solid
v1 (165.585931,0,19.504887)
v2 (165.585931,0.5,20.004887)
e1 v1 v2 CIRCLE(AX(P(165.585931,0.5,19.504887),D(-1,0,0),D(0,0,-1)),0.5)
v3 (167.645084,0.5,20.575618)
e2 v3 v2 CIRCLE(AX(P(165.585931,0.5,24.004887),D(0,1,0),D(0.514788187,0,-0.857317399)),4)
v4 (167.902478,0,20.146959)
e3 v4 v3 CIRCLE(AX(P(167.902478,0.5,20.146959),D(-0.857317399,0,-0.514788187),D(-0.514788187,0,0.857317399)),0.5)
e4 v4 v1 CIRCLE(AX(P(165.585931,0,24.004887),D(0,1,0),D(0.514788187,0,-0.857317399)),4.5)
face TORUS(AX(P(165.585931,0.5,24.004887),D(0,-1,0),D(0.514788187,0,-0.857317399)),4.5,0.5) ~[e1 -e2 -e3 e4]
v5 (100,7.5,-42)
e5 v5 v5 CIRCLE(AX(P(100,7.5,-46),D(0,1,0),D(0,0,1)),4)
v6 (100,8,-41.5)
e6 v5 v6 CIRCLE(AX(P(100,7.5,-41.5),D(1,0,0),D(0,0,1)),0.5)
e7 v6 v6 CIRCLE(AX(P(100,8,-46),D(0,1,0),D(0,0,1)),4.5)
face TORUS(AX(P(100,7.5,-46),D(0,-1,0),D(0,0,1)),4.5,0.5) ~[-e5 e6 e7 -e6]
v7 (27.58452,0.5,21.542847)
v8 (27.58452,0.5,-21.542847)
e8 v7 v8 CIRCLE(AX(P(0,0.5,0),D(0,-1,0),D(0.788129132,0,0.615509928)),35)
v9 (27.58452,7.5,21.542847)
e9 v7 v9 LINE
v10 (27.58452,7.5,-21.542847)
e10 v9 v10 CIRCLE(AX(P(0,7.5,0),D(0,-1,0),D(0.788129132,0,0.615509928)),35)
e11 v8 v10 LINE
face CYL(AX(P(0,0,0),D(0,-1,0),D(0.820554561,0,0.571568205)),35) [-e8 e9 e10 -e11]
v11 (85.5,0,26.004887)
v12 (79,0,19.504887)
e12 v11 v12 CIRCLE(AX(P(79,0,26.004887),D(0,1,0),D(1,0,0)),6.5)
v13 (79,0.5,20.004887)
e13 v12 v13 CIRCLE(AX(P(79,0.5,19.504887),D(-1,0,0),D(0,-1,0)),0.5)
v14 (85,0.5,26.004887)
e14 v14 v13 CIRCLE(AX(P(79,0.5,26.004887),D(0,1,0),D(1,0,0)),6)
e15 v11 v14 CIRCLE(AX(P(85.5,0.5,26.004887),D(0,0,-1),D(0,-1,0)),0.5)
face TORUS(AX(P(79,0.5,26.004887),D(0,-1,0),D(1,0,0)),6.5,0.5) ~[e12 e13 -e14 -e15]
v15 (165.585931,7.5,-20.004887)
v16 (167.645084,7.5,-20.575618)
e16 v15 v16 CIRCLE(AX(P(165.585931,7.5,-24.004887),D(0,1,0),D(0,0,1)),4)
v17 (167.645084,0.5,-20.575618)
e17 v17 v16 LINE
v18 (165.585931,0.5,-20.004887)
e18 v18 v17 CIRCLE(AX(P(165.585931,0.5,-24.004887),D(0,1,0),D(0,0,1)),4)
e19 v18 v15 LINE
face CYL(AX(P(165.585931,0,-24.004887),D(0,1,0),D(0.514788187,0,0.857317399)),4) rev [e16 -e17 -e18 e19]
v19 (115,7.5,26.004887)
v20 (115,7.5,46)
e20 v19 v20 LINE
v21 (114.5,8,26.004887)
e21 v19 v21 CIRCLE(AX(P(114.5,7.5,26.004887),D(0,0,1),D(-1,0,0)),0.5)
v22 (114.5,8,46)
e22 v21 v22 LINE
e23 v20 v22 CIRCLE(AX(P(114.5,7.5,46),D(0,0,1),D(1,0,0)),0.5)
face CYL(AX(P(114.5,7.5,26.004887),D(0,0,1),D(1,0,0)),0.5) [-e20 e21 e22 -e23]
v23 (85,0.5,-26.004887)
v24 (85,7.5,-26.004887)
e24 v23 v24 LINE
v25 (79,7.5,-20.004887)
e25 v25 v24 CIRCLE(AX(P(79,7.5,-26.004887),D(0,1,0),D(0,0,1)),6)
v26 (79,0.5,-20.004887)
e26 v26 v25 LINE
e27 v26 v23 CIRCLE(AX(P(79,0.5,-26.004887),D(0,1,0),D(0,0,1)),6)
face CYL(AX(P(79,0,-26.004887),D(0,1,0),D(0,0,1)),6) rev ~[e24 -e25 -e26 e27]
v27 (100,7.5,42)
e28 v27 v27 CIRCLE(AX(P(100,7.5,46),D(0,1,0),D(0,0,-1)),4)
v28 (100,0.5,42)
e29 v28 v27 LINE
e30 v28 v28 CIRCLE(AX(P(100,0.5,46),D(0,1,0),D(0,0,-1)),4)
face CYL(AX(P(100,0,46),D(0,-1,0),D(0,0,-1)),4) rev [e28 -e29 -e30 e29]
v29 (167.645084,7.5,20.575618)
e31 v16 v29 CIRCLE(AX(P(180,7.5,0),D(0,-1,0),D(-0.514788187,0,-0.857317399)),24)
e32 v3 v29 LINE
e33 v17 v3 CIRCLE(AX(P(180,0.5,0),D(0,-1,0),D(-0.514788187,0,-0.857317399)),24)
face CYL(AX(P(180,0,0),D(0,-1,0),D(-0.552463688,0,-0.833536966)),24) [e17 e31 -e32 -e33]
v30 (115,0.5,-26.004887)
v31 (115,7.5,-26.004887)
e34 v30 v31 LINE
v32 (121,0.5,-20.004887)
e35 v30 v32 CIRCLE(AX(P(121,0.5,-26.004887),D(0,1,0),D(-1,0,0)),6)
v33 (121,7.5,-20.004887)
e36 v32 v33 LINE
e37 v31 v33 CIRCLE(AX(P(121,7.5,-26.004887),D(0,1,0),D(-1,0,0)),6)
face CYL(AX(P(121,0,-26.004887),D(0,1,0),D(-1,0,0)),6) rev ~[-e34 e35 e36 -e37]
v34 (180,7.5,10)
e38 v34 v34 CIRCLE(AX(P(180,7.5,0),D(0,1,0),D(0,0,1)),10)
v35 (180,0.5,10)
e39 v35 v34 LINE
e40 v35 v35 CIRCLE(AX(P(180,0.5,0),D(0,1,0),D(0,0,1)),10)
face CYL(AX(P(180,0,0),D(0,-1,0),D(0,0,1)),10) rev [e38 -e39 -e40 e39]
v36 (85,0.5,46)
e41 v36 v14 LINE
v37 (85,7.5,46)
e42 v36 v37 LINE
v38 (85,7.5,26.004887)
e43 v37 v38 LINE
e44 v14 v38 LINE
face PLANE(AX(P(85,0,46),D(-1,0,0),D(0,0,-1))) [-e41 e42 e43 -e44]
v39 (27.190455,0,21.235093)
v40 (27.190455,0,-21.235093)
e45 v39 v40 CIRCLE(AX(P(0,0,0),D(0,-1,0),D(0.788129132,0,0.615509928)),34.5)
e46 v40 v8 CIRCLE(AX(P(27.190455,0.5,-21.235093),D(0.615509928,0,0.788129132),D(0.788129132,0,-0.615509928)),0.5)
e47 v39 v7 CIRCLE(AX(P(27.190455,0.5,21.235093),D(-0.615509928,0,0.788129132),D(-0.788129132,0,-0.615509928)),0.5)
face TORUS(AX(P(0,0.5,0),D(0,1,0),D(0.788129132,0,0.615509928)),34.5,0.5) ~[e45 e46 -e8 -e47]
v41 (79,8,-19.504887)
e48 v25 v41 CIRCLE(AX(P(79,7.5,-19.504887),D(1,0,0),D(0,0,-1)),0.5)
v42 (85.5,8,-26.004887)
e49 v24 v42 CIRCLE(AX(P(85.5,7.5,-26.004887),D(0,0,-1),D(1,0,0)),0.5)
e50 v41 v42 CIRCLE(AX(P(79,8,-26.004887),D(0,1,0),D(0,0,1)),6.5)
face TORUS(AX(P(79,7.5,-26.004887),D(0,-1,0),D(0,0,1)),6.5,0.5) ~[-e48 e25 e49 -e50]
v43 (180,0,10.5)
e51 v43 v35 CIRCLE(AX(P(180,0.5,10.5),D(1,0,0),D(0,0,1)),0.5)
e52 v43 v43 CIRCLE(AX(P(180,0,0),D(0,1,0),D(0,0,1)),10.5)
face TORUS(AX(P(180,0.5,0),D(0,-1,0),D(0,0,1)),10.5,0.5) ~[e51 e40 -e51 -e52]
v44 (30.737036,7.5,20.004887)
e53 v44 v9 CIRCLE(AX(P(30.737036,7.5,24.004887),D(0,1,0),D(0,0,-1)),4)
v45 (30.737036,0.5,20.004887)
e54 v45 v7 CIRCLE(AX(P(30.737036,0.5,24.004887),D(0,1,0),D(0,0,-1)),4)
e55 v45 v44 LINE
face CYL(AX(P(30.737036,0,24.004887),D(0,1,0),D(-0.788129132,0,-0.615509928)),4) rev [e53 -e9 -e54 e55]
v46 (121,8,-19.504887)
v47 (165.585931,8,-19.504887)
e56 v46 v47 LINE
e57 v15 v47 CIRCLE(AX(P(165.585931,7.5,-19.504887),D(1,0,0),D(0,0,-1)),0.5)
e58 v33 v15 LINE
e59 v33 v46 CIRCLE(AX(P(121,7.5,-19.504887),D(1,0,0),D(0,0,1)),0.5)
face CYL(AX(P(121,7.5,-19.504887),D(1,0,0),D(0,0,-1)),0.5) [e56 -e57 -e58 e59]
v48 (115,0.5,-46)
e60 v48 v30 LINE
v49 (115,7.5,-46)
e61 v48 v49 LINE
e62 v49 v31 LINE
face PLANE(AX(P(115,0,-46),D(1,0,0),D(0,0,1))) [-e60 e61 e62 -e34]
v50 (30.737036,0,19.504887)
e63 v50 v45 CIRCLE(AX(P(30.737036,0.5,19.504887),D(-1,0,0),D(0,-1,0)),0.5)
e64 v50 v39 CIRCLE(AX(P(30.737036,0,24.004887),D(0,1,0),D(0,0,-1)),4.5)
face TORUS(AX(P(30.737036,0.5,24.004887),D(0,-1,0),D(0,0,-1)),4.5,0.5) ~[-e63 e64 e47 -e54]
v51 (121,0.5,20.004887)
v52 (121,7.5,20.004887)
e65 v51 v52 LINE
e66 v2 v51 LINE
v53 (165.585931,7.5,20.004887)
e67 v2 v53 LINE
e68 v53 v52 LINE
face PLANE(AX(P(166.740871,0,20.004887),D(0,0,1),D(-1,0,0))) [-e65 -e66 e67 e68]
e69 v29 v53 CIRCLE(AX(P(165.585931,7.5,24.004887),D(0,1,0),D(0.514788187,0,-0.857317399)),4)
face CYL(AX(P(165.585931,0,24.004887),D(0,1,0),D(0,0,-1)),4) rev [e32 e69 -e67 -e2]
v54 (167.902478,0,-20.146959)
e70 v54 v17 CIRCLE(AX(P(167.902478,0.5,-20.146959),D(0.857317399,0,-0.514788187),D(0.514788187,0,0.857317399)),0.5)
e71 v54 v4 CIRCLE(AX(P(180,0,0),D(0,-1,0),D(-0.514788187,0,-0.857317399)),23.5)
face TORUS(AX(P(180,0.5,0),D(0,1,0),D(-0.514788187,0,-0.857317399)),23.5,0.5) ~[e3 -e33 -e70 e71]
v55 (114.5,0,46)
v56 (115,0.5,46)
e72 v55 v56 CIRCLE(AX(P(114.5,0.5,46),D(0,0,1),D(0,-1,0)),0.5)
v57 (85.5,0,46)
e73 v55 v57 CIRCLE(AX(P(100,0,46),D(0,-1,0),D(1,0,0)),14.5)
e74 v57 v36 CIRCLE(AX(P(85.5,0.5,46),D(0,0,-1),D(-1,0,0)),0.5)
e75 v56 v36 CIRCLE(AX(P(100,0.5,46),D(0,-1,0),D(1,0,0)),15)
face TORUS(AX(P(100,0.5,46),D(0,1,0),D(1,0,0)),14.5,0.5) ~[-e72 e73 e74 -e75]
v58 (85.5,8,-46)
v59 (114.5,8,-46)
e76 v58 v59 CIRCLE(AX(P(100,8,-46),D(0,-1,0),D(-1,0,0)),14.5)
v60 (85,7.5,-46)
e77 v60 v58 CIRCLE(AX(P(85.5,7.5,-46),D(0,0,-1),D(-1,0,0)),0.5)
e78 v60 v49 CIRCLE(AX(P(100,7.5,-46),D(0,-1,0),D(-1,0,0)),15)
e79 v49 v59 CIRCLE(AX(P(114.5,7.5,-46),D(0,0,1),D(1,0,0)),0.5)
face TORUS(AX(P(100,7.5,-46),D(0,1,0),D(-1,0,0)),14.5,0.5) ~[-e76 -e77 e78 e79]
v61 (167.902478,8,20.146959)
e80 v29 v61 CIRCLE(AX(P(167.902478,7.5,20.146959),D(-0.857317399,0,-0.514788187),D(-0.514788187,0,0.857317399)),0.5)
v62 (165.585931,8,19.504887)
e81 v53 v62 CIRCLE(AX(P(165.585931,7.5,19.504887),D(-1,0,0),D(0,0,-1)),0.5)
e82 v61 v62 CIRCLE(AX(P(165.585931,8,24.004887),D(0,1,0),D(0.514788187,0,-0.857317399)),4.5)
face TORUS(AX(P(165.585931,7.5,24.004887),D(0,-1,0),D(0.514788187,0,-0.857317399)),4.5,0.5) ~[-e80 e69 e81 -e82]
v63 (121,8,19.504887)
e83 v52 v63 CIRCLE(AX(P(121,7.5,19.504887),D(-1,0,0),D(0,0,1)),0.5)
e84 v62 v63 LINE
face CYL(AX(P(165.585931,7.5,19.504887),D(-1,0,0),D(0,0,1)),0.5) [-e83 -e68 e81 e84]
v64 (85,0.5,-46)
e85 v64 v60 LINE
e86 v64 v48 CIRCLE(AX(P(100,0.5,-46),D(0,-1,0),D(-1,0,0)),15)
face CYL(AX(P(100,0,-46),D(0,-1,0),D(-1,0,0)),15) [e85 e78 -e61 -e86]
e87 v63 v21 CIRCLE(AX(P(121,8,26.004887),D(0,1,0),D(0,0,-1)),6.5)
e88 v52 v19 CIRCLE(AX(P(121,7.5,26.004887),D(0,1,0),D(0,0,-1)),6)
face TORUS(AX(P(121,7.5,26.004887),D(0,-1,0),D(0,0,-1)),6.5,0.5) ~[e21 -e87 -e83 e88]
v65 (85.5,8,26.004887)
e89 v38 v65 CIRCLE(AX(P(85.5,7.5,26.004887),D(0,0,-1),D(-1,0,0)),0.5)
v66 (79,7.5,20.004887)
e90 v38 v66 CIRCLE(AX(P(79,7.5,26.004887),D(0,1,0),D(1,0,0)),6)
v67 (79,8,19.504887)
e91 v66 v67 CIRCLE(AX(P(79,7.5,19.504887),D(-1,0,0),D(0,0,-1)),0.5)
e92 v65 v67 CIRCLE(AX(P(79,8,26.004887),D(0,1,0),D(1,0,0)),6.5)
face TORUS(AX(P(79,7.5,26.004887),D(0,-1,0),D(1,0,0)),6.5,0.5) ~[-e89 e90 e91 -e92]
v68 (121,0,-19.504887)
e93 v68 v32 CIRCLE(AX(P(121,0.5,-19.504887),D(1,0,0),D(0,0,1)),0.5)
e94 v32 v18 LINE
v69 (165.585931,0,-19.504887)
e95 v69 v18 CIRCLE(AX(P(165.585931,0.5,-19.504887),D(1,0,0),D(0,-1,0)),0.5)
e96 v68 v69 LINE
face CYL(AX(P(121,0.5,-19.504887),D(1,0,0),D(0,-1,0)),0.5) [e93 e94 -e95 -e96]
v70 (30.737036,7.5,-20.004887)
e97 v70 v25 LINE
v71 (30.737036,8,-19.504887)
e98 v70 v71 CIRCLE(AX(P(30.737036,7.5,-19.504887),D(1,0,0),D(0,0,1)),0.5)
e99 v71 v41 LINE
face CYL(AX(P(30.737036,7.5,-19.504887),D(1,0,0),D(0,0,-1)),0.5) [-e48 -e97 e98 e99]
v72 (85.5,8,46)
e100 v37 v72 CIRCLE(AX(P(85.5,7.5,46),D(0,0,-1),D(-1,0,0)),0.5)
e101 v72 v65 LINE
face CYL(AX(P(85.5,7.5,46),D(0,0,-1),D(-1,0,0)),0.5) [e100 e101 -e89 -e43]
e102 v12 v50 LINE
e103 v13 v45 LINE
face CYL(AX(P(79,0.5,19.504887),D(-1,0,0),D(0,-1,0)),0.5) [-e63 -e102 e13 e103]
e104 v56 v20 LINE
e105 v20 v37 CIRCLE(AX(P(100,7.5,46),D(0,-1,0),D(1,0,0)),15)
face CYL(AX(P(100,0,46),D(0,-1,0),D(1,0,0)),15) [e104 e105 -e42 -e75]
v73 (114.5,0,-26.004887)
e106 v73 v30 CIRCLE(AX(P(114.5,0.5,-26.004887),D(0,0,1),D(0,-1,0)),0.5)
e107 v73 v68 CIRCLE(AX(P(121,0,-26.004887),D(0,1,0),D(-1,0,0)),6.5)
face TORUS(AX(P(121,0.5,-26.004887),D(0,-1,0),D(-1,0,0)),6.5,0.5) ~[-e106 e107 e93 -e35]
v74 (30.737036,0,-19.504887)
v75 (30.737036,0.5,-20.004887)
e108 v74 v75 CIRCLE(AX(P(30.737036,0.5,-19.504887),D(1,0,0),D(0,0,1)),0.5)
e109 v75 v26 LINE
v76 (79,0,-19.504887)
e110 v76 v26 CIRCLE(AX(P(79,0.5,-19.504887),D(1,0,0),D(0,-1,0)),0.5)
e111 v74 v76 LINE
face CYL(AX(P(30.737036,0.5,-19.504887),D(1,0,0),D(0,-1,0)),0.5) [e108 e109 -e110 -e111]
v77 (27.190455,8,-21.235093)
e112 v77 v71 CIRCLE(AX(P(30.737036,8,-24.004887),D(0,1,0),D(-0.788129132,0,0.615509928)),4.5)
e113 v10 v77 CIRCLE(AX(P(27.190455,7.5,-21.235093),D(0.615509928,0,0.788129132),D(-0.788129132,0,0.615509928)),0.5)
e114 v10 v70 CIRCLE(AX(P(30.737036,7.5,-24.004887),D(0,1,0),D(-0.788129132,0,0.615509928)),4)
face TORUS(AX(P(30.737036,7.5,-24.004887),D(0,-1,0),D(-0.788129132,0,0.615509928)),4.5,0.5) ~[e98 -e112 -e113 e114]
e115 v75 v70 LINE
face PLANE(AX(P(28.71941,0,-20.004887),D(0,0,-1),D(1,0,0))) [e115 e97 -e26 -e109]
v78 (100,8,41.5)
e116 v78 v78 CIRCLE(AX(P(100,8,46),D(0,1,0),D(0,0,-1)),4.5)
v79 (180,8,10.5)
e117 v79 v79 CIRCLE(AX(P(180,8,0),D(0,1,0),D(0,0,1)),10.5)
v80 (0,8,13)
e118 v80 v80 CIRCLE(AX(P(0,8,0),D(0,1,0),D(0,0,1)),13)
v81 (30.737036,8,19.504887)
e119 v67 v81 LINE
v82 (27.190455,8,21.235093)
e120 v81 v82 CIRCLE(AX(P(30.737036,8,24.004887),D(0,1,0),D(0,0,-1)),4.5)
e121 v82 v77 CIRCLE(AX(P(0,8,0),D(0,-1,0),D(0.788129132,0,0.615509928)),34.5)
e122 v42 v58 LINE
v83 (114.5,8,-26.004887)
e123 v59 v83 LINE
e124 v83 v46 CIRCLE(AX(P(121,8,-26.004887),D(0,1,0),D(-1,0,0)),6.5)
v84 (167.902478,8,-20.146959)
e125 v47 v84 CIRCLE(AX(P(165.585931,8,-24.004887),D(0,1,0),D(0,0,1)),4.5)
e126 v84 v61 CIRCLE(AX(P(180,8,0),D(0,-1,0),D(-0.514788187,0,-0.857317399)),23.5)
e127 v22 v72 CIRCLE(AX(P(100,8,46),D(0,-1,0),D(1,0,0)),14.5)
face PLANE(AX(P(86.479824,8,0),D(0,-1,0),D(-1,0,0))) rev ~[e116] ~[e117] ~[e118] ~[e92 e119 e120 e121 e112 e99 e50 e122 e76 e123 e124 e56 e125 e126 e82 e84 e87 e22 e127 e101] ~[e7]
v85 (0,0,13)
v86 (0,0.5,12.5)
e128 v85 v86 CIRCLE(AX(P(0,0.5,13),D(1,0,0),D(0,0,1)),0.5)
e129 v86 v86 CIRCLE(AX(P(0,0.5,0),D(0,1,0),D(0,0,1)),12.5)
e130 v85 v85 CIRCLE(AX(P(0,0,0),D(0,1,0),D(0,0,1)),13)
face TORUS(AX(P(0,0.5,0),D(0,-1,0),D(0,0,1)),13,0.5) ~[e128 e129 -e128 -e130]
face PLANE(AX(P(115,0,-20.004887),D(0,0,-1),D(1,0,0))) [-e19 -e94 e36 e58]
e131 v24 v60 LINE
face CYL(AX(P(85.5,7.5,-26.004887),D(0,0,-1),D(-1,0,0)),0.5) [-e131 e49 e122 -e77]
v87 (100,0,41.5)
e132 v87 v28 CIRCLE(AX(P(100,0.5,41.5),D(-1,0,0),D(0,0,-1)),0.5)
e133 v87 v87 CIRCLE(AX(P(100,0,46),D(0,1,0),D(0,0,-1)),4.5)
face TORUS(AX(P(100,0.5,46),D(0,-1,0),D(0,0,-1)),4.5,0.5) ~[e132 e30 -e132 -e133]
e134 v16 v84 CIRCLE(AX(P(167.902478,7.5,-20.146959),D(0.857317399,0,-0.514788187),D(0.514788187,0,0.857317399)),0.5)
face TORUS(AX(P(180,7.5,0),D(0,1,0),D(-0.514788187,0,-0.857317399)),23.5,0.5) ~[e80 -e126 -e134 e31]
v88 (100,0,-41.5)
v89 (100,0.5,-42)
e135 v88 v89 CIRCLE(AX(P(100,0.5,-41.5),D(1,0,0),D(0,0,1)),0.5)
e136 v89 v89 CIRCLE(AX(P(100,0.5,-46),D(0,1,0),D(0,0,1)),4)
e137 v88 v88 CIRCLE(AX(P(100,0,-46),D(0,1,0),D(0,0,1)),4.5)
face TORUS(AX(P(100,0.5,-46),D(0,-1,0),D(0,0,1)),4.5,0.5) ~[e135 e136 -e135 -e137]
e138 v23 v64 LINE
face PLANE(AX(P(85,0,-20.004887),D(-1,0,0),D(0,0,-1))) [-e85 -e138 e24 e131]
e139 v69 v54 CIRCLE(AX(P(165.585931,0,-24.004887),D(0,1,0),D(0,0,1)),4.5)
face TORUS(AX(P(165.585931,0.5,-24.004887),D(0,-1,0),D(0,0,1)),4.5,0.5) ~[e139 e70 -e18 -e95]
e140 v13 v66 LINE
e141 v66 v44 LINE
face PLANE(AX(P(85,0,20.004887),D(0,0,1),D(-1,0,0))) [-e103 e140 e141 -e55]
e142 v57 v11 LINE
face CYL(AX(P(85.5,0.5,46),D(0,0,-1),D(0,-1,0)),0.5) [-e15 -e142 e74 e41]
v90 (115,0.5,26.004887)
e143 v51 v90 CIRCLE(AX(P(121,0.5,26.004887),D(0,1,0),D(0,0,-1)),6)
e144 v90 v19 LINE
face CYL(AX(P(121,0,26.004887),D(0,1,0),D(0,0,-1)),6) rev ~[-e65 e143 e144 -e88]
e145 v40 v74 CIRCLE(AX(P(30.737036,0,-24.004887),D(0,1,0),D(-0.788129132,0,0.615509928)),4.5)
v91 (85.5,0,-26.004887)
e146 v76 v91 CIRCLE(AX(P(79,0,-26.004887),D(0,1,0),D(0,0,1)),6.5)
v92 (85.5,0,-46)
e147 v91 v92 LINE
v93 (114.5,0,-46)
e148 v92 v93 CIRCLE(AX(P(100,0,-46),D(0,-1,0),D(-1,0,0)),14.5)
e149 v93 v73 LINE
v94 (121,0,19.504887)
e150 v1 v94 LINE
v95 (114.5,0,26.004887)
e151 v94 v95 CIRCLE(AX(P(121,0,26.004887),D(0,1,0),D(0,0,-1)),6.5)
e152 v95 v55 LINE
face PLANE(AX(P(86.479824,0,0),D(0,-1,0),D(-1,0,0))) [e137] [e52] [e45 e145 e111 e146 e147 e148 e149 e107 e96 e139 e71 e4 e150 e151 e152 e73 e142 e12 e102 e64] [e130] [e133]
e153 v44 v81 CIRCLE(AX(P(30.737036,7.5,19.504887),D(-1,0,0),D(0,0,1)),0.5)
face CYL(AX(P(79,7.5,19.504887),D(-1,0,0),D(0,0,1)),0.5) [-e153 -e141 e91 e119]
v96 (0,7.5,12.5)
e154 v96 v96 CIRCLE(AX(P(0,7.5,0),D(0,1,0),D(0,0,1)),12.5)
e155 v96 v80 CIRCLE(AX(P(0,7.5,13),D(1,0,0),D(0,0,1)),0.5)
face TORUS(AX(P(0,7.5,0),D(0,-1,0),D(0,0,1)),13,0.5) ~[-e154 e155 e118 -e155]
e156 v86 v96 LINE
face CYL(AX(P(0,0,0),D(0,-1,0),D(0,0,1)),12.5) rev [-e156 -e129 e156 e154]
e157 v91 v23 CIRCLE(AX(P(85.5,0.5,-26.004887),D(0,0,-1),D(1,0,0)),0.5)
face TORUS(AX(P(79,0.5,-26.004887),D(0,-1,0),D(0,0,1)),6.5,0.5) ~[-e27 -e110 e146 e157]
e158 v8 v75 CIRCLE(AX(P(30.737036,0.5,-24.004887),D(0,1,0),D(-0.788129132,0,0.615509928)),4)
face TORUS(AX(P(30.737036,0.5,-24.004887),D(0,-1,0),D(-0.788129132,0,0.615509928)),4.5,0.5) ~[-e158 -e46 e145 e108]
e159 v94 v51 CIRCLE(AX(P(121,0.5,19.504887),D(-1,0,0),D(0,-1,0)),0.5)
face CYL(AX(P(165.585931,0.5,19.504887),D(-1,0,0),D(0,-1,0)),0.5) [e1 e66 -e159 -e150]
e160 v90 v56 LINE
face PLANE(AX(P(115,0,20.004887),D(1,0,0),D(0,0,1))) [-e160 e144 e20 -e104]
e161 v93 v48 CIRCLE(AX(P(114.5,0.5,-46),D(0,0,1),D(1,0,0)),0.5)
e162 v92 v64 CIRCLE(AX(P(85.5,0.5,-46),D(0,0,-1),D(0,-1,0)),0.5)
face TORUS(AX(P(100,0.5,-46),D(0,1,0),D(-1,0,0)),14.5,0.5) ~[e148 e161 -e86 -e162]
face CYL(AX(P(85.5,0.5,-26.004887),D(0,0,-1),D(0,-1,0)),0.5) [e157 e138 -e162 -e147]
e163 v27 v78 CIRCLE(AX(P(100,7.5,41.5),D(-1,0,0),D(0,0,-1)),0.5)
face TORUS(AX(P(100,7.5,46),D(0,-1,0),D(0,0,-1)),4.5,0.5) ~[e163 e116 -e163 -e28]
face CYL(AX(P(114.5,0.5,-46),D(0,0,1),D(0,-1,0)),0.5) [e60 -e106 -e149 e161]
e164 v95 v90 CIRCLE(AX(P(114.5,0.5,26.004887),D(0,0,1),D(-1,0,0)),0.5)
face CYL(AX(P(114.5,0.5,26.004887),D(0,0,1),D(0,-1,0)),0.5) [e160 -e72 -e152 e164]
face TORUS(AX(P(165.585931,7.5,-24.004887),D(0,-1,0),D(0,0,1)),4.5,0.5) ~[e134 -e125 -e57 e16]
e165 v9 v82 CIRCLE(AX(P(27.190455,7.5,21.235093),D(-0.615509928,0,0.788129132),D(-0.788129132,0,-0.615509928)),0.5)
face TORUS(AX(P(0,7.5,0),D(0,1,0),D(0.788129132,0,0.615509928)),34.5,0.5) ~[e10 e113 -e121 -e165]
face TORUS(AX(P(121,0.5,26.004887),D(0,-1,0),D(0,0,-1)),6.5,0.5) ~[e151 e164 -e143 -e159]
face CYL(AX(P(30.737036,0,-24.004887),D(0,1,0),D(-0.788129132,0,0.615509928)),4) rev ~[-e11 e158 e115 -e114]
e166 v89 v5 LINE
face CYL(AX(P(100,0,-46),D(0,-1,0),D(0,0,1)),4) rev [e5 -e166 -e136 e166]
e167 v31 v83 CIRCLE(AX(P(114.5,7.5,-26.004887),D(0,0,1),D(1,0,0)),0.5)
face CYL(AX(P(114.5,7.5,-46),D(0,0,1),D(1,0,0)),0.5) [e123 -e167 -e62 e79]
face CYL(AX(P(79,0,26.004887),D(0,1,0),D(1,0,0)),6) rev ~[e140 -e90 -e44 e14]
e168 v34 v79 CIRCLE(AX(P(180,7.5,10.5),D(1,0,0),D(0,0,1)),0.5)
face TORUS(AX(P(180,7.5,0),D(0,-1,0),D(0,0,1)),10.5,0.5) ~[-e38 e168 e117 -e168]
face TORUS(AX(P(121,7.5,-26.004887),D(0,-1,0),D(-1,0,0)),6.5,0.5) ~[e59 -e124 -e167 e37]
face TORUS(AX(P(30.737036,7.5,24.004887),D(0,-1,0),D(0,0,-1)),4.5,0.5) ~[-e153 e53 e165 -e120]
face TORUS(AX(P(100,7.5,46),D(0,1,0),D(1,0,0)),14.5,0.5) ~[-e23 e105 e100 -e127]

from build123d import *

# Parameters (mm, degrees)
SKETCH_1_R      = 12.5
SKETCH_1_R_2    = 4
SKETCH_1_R_3    = 10
EXTRUDE_1_DEPTH = 8
FILLET_1_R      = 6
FILLET_2_R      = 6
FILLET_3_R      = 6
FILLET_4_R      = 6
FILLET_5_R      = 4
FILLET_6_R      = 4
FILLET_7_R      = 4
FILLET_8_R      = 4
FILLET_9_R      = 0.5


with BuildPart() as part:
    # 草图1 → 凸台-拉伸1 (new body)
    with BuildSketch(Plane(origin=(0, 0, 0), x_dir=(1, 0, 0), z_dir=(0, 1, 0))):
        with BuildLine():
            Line((28.719409623, 20.004887175), (85, 20.004887175))
            Line((85, 20.004887175), (85, 46))
            ThreePointArc((85, 46), (100, 61), (115, 46))
            Line((115, 46), (115, 20.004887175))
            Line((115, 20.004887175), (166.74087148, 20.004887175))
            ThreePointArc((166.74087148, 20.004887175), (204, 0), (166.74087148, -20.004887175))
            Line((166.74087148, -20.004887175), (115, -20.004887175))
            Line((115, -20.004887175), (115, -46))
            ThreePointArc((115, -46), (100, -61), (85, -46))
            Line((85, -46), (85, -20.004887175))
            Line((85, -20.004887175), (28.719409623, -20.004887175))
            ThreePointArc((28.719409623, -20.004887175), (-35, 0), (28.719409623, 20.004887175))
        make_face()
        with Locations(Location((0, 0, 0), (0, 0, 270))):
            Circle(SKETCH_1_R, mode=Mode.SUBTRACT)
        with Locations(Location((100, 46, 0), (0, 0, 270))):
            Circle(SKETCH_1_R_2, mode=Mode.SUBTRACT)
        with Locations(Location((180, 0, 0), (0, 0, 270))):
            Circle(SKETCH_1_R_3, mode=Mode.SUBTRACT)
        with Locations(Location((100, -46, 0), (0, 0, 90))):
            Circle(SKETCH_1_R_2, mode=Mode.SUBTRACT)
    extrude(amount=EXTRUDE_1_DEPTH)

    # 圆角1
    fillet_1_edges = [part.edges().sort_by_distance(p)[0] for p in [
        (85, 4, -20.004887175),
    ]]
    fillet(fillet_1_edges, radius=FILLET_1_R)

    # 圆角2
    fillet_2_edges = [part.edges().sort_by_distance(p)[0] for p in [
        (115, 4, -20.004887175),
    ]]
    fillet(fillet_2_edges, radius=FILLET_2_R)

    # 圆角3
    fillet_3_edges = [part.edges().sort_by_distance(p)[0] for p in [
        (115, 4, 20.004887175),
    ]]
    fillet(fillet_3_edges, radius=FILLET_3_R)

    # 圆角4
    fillet_4_edges = [part.edges().sort_by_distance(p)[0] for p in [
        (85, 4, 20.004887175),
    ]]
    fillet(fillet_4_edges, radius=FILLET_4_R)

    # 圆角5
    fillet_5_edges = [part.edges().sort_by_distance(p)[0] for p in [
        (28.719409623, 4, -20.004887175),
    ]]
    fillet(fillet_5_edges, radius=FILLET_5_R)

    # 圆角6
    fillet_6_edges = [part.edges().sort_by_distance(p)[0] for p in [
        (28.719409623, 4, 20.004887175),
    ]]
    fillet(fillet_6_edges, radius=FILLET_6_R)

    # 圆角7
    fillet_7_edges = [part.edges().sort_by_distance(p)[0] for p in [
        (166.74087148, 4, 20.004887175),
    ]]
    fillet(fillet_7_edges, radius=FILLET_7_R)

    # 圆角8
    fillet_8_edges = [part.edges().sort_by_distance(p)[0] for p in [
        (166.74087148, 4, -20.004887175),
    ]]
    fillet(fillet_8_edges, radius=FILLET_8_R)

    # 圆角9
    fillet_9_edges = [part.edges().sort_by_distance(p)[0] for p in [
        (28.983205897, 8, -20.409879606),
        (54.868518078, 0, 20.004887175),
        (54.868518078, 8, 20.004887175),
        (28.983205897, 8, 20.409879606),
        (28.983205897, 0, 20.409879606),
        (85, 0, -36.002443588),
        (100, 0, -61),
        (204, 0, 0),
        (204, 8, 0),
        (166.654322464, 8, 20.150209602),
        (166.654322464, 0, 20.150209602),
        (143.292965386, 0, -20.004887175),
        (100, 8, 61),
        (143.292965386, 8, -20.004887175),
        (166.654322464, 8, -20.150209602),
        (166.654322464, 0, -20.150209602),
        (115, 0, 36.002443588),
        (100, 0, 61),
        (115, 8, 36.002443588),
        (0, 0, -12.5),
        (0, 8, -12.5),
        (100, 8, -61),
        (100, 0, -50),
        (100, 8, -50),
        (85, 8, -36.002443588),
        (100, 0, 50),
        (100, 8, 50),
        (180, 0, -10),
        (180, 8, -10),
        (54.868518078, 0, -20.004887175),
        (54.868518078, 8, -20.004887175),
        (83.242640687, 0, -21.762246488),
        (83.242640687, 8, -21.762246488),
        (115, 0, -36.002443588),
        (115, 8, -36.002443588),
        (116.757359313, 8, -21.762246488),
        (116.757359313, 0, -21.762246488),
        (143.292965386, 0, 20.004887175),
        (143.292965386, 8, 20.004887175),
        (116.757359313, 8, 21.762246488),
        (116.757359313, 0, 21.762246488),
        (85, 0, 36.002443588),
        (85, 8, 36.002443588),
        (83.242640687, 8, 21.762246488),
        (83.242640687, 0, 21.762246488),
        (-35, 0, 0),
        (-35, 8, 0),
        (28.983205897, 0, -20.409879606),
    ]]
    fillet(fillet_9_edges, radius=FILLET_9_R)


solid = part.part
